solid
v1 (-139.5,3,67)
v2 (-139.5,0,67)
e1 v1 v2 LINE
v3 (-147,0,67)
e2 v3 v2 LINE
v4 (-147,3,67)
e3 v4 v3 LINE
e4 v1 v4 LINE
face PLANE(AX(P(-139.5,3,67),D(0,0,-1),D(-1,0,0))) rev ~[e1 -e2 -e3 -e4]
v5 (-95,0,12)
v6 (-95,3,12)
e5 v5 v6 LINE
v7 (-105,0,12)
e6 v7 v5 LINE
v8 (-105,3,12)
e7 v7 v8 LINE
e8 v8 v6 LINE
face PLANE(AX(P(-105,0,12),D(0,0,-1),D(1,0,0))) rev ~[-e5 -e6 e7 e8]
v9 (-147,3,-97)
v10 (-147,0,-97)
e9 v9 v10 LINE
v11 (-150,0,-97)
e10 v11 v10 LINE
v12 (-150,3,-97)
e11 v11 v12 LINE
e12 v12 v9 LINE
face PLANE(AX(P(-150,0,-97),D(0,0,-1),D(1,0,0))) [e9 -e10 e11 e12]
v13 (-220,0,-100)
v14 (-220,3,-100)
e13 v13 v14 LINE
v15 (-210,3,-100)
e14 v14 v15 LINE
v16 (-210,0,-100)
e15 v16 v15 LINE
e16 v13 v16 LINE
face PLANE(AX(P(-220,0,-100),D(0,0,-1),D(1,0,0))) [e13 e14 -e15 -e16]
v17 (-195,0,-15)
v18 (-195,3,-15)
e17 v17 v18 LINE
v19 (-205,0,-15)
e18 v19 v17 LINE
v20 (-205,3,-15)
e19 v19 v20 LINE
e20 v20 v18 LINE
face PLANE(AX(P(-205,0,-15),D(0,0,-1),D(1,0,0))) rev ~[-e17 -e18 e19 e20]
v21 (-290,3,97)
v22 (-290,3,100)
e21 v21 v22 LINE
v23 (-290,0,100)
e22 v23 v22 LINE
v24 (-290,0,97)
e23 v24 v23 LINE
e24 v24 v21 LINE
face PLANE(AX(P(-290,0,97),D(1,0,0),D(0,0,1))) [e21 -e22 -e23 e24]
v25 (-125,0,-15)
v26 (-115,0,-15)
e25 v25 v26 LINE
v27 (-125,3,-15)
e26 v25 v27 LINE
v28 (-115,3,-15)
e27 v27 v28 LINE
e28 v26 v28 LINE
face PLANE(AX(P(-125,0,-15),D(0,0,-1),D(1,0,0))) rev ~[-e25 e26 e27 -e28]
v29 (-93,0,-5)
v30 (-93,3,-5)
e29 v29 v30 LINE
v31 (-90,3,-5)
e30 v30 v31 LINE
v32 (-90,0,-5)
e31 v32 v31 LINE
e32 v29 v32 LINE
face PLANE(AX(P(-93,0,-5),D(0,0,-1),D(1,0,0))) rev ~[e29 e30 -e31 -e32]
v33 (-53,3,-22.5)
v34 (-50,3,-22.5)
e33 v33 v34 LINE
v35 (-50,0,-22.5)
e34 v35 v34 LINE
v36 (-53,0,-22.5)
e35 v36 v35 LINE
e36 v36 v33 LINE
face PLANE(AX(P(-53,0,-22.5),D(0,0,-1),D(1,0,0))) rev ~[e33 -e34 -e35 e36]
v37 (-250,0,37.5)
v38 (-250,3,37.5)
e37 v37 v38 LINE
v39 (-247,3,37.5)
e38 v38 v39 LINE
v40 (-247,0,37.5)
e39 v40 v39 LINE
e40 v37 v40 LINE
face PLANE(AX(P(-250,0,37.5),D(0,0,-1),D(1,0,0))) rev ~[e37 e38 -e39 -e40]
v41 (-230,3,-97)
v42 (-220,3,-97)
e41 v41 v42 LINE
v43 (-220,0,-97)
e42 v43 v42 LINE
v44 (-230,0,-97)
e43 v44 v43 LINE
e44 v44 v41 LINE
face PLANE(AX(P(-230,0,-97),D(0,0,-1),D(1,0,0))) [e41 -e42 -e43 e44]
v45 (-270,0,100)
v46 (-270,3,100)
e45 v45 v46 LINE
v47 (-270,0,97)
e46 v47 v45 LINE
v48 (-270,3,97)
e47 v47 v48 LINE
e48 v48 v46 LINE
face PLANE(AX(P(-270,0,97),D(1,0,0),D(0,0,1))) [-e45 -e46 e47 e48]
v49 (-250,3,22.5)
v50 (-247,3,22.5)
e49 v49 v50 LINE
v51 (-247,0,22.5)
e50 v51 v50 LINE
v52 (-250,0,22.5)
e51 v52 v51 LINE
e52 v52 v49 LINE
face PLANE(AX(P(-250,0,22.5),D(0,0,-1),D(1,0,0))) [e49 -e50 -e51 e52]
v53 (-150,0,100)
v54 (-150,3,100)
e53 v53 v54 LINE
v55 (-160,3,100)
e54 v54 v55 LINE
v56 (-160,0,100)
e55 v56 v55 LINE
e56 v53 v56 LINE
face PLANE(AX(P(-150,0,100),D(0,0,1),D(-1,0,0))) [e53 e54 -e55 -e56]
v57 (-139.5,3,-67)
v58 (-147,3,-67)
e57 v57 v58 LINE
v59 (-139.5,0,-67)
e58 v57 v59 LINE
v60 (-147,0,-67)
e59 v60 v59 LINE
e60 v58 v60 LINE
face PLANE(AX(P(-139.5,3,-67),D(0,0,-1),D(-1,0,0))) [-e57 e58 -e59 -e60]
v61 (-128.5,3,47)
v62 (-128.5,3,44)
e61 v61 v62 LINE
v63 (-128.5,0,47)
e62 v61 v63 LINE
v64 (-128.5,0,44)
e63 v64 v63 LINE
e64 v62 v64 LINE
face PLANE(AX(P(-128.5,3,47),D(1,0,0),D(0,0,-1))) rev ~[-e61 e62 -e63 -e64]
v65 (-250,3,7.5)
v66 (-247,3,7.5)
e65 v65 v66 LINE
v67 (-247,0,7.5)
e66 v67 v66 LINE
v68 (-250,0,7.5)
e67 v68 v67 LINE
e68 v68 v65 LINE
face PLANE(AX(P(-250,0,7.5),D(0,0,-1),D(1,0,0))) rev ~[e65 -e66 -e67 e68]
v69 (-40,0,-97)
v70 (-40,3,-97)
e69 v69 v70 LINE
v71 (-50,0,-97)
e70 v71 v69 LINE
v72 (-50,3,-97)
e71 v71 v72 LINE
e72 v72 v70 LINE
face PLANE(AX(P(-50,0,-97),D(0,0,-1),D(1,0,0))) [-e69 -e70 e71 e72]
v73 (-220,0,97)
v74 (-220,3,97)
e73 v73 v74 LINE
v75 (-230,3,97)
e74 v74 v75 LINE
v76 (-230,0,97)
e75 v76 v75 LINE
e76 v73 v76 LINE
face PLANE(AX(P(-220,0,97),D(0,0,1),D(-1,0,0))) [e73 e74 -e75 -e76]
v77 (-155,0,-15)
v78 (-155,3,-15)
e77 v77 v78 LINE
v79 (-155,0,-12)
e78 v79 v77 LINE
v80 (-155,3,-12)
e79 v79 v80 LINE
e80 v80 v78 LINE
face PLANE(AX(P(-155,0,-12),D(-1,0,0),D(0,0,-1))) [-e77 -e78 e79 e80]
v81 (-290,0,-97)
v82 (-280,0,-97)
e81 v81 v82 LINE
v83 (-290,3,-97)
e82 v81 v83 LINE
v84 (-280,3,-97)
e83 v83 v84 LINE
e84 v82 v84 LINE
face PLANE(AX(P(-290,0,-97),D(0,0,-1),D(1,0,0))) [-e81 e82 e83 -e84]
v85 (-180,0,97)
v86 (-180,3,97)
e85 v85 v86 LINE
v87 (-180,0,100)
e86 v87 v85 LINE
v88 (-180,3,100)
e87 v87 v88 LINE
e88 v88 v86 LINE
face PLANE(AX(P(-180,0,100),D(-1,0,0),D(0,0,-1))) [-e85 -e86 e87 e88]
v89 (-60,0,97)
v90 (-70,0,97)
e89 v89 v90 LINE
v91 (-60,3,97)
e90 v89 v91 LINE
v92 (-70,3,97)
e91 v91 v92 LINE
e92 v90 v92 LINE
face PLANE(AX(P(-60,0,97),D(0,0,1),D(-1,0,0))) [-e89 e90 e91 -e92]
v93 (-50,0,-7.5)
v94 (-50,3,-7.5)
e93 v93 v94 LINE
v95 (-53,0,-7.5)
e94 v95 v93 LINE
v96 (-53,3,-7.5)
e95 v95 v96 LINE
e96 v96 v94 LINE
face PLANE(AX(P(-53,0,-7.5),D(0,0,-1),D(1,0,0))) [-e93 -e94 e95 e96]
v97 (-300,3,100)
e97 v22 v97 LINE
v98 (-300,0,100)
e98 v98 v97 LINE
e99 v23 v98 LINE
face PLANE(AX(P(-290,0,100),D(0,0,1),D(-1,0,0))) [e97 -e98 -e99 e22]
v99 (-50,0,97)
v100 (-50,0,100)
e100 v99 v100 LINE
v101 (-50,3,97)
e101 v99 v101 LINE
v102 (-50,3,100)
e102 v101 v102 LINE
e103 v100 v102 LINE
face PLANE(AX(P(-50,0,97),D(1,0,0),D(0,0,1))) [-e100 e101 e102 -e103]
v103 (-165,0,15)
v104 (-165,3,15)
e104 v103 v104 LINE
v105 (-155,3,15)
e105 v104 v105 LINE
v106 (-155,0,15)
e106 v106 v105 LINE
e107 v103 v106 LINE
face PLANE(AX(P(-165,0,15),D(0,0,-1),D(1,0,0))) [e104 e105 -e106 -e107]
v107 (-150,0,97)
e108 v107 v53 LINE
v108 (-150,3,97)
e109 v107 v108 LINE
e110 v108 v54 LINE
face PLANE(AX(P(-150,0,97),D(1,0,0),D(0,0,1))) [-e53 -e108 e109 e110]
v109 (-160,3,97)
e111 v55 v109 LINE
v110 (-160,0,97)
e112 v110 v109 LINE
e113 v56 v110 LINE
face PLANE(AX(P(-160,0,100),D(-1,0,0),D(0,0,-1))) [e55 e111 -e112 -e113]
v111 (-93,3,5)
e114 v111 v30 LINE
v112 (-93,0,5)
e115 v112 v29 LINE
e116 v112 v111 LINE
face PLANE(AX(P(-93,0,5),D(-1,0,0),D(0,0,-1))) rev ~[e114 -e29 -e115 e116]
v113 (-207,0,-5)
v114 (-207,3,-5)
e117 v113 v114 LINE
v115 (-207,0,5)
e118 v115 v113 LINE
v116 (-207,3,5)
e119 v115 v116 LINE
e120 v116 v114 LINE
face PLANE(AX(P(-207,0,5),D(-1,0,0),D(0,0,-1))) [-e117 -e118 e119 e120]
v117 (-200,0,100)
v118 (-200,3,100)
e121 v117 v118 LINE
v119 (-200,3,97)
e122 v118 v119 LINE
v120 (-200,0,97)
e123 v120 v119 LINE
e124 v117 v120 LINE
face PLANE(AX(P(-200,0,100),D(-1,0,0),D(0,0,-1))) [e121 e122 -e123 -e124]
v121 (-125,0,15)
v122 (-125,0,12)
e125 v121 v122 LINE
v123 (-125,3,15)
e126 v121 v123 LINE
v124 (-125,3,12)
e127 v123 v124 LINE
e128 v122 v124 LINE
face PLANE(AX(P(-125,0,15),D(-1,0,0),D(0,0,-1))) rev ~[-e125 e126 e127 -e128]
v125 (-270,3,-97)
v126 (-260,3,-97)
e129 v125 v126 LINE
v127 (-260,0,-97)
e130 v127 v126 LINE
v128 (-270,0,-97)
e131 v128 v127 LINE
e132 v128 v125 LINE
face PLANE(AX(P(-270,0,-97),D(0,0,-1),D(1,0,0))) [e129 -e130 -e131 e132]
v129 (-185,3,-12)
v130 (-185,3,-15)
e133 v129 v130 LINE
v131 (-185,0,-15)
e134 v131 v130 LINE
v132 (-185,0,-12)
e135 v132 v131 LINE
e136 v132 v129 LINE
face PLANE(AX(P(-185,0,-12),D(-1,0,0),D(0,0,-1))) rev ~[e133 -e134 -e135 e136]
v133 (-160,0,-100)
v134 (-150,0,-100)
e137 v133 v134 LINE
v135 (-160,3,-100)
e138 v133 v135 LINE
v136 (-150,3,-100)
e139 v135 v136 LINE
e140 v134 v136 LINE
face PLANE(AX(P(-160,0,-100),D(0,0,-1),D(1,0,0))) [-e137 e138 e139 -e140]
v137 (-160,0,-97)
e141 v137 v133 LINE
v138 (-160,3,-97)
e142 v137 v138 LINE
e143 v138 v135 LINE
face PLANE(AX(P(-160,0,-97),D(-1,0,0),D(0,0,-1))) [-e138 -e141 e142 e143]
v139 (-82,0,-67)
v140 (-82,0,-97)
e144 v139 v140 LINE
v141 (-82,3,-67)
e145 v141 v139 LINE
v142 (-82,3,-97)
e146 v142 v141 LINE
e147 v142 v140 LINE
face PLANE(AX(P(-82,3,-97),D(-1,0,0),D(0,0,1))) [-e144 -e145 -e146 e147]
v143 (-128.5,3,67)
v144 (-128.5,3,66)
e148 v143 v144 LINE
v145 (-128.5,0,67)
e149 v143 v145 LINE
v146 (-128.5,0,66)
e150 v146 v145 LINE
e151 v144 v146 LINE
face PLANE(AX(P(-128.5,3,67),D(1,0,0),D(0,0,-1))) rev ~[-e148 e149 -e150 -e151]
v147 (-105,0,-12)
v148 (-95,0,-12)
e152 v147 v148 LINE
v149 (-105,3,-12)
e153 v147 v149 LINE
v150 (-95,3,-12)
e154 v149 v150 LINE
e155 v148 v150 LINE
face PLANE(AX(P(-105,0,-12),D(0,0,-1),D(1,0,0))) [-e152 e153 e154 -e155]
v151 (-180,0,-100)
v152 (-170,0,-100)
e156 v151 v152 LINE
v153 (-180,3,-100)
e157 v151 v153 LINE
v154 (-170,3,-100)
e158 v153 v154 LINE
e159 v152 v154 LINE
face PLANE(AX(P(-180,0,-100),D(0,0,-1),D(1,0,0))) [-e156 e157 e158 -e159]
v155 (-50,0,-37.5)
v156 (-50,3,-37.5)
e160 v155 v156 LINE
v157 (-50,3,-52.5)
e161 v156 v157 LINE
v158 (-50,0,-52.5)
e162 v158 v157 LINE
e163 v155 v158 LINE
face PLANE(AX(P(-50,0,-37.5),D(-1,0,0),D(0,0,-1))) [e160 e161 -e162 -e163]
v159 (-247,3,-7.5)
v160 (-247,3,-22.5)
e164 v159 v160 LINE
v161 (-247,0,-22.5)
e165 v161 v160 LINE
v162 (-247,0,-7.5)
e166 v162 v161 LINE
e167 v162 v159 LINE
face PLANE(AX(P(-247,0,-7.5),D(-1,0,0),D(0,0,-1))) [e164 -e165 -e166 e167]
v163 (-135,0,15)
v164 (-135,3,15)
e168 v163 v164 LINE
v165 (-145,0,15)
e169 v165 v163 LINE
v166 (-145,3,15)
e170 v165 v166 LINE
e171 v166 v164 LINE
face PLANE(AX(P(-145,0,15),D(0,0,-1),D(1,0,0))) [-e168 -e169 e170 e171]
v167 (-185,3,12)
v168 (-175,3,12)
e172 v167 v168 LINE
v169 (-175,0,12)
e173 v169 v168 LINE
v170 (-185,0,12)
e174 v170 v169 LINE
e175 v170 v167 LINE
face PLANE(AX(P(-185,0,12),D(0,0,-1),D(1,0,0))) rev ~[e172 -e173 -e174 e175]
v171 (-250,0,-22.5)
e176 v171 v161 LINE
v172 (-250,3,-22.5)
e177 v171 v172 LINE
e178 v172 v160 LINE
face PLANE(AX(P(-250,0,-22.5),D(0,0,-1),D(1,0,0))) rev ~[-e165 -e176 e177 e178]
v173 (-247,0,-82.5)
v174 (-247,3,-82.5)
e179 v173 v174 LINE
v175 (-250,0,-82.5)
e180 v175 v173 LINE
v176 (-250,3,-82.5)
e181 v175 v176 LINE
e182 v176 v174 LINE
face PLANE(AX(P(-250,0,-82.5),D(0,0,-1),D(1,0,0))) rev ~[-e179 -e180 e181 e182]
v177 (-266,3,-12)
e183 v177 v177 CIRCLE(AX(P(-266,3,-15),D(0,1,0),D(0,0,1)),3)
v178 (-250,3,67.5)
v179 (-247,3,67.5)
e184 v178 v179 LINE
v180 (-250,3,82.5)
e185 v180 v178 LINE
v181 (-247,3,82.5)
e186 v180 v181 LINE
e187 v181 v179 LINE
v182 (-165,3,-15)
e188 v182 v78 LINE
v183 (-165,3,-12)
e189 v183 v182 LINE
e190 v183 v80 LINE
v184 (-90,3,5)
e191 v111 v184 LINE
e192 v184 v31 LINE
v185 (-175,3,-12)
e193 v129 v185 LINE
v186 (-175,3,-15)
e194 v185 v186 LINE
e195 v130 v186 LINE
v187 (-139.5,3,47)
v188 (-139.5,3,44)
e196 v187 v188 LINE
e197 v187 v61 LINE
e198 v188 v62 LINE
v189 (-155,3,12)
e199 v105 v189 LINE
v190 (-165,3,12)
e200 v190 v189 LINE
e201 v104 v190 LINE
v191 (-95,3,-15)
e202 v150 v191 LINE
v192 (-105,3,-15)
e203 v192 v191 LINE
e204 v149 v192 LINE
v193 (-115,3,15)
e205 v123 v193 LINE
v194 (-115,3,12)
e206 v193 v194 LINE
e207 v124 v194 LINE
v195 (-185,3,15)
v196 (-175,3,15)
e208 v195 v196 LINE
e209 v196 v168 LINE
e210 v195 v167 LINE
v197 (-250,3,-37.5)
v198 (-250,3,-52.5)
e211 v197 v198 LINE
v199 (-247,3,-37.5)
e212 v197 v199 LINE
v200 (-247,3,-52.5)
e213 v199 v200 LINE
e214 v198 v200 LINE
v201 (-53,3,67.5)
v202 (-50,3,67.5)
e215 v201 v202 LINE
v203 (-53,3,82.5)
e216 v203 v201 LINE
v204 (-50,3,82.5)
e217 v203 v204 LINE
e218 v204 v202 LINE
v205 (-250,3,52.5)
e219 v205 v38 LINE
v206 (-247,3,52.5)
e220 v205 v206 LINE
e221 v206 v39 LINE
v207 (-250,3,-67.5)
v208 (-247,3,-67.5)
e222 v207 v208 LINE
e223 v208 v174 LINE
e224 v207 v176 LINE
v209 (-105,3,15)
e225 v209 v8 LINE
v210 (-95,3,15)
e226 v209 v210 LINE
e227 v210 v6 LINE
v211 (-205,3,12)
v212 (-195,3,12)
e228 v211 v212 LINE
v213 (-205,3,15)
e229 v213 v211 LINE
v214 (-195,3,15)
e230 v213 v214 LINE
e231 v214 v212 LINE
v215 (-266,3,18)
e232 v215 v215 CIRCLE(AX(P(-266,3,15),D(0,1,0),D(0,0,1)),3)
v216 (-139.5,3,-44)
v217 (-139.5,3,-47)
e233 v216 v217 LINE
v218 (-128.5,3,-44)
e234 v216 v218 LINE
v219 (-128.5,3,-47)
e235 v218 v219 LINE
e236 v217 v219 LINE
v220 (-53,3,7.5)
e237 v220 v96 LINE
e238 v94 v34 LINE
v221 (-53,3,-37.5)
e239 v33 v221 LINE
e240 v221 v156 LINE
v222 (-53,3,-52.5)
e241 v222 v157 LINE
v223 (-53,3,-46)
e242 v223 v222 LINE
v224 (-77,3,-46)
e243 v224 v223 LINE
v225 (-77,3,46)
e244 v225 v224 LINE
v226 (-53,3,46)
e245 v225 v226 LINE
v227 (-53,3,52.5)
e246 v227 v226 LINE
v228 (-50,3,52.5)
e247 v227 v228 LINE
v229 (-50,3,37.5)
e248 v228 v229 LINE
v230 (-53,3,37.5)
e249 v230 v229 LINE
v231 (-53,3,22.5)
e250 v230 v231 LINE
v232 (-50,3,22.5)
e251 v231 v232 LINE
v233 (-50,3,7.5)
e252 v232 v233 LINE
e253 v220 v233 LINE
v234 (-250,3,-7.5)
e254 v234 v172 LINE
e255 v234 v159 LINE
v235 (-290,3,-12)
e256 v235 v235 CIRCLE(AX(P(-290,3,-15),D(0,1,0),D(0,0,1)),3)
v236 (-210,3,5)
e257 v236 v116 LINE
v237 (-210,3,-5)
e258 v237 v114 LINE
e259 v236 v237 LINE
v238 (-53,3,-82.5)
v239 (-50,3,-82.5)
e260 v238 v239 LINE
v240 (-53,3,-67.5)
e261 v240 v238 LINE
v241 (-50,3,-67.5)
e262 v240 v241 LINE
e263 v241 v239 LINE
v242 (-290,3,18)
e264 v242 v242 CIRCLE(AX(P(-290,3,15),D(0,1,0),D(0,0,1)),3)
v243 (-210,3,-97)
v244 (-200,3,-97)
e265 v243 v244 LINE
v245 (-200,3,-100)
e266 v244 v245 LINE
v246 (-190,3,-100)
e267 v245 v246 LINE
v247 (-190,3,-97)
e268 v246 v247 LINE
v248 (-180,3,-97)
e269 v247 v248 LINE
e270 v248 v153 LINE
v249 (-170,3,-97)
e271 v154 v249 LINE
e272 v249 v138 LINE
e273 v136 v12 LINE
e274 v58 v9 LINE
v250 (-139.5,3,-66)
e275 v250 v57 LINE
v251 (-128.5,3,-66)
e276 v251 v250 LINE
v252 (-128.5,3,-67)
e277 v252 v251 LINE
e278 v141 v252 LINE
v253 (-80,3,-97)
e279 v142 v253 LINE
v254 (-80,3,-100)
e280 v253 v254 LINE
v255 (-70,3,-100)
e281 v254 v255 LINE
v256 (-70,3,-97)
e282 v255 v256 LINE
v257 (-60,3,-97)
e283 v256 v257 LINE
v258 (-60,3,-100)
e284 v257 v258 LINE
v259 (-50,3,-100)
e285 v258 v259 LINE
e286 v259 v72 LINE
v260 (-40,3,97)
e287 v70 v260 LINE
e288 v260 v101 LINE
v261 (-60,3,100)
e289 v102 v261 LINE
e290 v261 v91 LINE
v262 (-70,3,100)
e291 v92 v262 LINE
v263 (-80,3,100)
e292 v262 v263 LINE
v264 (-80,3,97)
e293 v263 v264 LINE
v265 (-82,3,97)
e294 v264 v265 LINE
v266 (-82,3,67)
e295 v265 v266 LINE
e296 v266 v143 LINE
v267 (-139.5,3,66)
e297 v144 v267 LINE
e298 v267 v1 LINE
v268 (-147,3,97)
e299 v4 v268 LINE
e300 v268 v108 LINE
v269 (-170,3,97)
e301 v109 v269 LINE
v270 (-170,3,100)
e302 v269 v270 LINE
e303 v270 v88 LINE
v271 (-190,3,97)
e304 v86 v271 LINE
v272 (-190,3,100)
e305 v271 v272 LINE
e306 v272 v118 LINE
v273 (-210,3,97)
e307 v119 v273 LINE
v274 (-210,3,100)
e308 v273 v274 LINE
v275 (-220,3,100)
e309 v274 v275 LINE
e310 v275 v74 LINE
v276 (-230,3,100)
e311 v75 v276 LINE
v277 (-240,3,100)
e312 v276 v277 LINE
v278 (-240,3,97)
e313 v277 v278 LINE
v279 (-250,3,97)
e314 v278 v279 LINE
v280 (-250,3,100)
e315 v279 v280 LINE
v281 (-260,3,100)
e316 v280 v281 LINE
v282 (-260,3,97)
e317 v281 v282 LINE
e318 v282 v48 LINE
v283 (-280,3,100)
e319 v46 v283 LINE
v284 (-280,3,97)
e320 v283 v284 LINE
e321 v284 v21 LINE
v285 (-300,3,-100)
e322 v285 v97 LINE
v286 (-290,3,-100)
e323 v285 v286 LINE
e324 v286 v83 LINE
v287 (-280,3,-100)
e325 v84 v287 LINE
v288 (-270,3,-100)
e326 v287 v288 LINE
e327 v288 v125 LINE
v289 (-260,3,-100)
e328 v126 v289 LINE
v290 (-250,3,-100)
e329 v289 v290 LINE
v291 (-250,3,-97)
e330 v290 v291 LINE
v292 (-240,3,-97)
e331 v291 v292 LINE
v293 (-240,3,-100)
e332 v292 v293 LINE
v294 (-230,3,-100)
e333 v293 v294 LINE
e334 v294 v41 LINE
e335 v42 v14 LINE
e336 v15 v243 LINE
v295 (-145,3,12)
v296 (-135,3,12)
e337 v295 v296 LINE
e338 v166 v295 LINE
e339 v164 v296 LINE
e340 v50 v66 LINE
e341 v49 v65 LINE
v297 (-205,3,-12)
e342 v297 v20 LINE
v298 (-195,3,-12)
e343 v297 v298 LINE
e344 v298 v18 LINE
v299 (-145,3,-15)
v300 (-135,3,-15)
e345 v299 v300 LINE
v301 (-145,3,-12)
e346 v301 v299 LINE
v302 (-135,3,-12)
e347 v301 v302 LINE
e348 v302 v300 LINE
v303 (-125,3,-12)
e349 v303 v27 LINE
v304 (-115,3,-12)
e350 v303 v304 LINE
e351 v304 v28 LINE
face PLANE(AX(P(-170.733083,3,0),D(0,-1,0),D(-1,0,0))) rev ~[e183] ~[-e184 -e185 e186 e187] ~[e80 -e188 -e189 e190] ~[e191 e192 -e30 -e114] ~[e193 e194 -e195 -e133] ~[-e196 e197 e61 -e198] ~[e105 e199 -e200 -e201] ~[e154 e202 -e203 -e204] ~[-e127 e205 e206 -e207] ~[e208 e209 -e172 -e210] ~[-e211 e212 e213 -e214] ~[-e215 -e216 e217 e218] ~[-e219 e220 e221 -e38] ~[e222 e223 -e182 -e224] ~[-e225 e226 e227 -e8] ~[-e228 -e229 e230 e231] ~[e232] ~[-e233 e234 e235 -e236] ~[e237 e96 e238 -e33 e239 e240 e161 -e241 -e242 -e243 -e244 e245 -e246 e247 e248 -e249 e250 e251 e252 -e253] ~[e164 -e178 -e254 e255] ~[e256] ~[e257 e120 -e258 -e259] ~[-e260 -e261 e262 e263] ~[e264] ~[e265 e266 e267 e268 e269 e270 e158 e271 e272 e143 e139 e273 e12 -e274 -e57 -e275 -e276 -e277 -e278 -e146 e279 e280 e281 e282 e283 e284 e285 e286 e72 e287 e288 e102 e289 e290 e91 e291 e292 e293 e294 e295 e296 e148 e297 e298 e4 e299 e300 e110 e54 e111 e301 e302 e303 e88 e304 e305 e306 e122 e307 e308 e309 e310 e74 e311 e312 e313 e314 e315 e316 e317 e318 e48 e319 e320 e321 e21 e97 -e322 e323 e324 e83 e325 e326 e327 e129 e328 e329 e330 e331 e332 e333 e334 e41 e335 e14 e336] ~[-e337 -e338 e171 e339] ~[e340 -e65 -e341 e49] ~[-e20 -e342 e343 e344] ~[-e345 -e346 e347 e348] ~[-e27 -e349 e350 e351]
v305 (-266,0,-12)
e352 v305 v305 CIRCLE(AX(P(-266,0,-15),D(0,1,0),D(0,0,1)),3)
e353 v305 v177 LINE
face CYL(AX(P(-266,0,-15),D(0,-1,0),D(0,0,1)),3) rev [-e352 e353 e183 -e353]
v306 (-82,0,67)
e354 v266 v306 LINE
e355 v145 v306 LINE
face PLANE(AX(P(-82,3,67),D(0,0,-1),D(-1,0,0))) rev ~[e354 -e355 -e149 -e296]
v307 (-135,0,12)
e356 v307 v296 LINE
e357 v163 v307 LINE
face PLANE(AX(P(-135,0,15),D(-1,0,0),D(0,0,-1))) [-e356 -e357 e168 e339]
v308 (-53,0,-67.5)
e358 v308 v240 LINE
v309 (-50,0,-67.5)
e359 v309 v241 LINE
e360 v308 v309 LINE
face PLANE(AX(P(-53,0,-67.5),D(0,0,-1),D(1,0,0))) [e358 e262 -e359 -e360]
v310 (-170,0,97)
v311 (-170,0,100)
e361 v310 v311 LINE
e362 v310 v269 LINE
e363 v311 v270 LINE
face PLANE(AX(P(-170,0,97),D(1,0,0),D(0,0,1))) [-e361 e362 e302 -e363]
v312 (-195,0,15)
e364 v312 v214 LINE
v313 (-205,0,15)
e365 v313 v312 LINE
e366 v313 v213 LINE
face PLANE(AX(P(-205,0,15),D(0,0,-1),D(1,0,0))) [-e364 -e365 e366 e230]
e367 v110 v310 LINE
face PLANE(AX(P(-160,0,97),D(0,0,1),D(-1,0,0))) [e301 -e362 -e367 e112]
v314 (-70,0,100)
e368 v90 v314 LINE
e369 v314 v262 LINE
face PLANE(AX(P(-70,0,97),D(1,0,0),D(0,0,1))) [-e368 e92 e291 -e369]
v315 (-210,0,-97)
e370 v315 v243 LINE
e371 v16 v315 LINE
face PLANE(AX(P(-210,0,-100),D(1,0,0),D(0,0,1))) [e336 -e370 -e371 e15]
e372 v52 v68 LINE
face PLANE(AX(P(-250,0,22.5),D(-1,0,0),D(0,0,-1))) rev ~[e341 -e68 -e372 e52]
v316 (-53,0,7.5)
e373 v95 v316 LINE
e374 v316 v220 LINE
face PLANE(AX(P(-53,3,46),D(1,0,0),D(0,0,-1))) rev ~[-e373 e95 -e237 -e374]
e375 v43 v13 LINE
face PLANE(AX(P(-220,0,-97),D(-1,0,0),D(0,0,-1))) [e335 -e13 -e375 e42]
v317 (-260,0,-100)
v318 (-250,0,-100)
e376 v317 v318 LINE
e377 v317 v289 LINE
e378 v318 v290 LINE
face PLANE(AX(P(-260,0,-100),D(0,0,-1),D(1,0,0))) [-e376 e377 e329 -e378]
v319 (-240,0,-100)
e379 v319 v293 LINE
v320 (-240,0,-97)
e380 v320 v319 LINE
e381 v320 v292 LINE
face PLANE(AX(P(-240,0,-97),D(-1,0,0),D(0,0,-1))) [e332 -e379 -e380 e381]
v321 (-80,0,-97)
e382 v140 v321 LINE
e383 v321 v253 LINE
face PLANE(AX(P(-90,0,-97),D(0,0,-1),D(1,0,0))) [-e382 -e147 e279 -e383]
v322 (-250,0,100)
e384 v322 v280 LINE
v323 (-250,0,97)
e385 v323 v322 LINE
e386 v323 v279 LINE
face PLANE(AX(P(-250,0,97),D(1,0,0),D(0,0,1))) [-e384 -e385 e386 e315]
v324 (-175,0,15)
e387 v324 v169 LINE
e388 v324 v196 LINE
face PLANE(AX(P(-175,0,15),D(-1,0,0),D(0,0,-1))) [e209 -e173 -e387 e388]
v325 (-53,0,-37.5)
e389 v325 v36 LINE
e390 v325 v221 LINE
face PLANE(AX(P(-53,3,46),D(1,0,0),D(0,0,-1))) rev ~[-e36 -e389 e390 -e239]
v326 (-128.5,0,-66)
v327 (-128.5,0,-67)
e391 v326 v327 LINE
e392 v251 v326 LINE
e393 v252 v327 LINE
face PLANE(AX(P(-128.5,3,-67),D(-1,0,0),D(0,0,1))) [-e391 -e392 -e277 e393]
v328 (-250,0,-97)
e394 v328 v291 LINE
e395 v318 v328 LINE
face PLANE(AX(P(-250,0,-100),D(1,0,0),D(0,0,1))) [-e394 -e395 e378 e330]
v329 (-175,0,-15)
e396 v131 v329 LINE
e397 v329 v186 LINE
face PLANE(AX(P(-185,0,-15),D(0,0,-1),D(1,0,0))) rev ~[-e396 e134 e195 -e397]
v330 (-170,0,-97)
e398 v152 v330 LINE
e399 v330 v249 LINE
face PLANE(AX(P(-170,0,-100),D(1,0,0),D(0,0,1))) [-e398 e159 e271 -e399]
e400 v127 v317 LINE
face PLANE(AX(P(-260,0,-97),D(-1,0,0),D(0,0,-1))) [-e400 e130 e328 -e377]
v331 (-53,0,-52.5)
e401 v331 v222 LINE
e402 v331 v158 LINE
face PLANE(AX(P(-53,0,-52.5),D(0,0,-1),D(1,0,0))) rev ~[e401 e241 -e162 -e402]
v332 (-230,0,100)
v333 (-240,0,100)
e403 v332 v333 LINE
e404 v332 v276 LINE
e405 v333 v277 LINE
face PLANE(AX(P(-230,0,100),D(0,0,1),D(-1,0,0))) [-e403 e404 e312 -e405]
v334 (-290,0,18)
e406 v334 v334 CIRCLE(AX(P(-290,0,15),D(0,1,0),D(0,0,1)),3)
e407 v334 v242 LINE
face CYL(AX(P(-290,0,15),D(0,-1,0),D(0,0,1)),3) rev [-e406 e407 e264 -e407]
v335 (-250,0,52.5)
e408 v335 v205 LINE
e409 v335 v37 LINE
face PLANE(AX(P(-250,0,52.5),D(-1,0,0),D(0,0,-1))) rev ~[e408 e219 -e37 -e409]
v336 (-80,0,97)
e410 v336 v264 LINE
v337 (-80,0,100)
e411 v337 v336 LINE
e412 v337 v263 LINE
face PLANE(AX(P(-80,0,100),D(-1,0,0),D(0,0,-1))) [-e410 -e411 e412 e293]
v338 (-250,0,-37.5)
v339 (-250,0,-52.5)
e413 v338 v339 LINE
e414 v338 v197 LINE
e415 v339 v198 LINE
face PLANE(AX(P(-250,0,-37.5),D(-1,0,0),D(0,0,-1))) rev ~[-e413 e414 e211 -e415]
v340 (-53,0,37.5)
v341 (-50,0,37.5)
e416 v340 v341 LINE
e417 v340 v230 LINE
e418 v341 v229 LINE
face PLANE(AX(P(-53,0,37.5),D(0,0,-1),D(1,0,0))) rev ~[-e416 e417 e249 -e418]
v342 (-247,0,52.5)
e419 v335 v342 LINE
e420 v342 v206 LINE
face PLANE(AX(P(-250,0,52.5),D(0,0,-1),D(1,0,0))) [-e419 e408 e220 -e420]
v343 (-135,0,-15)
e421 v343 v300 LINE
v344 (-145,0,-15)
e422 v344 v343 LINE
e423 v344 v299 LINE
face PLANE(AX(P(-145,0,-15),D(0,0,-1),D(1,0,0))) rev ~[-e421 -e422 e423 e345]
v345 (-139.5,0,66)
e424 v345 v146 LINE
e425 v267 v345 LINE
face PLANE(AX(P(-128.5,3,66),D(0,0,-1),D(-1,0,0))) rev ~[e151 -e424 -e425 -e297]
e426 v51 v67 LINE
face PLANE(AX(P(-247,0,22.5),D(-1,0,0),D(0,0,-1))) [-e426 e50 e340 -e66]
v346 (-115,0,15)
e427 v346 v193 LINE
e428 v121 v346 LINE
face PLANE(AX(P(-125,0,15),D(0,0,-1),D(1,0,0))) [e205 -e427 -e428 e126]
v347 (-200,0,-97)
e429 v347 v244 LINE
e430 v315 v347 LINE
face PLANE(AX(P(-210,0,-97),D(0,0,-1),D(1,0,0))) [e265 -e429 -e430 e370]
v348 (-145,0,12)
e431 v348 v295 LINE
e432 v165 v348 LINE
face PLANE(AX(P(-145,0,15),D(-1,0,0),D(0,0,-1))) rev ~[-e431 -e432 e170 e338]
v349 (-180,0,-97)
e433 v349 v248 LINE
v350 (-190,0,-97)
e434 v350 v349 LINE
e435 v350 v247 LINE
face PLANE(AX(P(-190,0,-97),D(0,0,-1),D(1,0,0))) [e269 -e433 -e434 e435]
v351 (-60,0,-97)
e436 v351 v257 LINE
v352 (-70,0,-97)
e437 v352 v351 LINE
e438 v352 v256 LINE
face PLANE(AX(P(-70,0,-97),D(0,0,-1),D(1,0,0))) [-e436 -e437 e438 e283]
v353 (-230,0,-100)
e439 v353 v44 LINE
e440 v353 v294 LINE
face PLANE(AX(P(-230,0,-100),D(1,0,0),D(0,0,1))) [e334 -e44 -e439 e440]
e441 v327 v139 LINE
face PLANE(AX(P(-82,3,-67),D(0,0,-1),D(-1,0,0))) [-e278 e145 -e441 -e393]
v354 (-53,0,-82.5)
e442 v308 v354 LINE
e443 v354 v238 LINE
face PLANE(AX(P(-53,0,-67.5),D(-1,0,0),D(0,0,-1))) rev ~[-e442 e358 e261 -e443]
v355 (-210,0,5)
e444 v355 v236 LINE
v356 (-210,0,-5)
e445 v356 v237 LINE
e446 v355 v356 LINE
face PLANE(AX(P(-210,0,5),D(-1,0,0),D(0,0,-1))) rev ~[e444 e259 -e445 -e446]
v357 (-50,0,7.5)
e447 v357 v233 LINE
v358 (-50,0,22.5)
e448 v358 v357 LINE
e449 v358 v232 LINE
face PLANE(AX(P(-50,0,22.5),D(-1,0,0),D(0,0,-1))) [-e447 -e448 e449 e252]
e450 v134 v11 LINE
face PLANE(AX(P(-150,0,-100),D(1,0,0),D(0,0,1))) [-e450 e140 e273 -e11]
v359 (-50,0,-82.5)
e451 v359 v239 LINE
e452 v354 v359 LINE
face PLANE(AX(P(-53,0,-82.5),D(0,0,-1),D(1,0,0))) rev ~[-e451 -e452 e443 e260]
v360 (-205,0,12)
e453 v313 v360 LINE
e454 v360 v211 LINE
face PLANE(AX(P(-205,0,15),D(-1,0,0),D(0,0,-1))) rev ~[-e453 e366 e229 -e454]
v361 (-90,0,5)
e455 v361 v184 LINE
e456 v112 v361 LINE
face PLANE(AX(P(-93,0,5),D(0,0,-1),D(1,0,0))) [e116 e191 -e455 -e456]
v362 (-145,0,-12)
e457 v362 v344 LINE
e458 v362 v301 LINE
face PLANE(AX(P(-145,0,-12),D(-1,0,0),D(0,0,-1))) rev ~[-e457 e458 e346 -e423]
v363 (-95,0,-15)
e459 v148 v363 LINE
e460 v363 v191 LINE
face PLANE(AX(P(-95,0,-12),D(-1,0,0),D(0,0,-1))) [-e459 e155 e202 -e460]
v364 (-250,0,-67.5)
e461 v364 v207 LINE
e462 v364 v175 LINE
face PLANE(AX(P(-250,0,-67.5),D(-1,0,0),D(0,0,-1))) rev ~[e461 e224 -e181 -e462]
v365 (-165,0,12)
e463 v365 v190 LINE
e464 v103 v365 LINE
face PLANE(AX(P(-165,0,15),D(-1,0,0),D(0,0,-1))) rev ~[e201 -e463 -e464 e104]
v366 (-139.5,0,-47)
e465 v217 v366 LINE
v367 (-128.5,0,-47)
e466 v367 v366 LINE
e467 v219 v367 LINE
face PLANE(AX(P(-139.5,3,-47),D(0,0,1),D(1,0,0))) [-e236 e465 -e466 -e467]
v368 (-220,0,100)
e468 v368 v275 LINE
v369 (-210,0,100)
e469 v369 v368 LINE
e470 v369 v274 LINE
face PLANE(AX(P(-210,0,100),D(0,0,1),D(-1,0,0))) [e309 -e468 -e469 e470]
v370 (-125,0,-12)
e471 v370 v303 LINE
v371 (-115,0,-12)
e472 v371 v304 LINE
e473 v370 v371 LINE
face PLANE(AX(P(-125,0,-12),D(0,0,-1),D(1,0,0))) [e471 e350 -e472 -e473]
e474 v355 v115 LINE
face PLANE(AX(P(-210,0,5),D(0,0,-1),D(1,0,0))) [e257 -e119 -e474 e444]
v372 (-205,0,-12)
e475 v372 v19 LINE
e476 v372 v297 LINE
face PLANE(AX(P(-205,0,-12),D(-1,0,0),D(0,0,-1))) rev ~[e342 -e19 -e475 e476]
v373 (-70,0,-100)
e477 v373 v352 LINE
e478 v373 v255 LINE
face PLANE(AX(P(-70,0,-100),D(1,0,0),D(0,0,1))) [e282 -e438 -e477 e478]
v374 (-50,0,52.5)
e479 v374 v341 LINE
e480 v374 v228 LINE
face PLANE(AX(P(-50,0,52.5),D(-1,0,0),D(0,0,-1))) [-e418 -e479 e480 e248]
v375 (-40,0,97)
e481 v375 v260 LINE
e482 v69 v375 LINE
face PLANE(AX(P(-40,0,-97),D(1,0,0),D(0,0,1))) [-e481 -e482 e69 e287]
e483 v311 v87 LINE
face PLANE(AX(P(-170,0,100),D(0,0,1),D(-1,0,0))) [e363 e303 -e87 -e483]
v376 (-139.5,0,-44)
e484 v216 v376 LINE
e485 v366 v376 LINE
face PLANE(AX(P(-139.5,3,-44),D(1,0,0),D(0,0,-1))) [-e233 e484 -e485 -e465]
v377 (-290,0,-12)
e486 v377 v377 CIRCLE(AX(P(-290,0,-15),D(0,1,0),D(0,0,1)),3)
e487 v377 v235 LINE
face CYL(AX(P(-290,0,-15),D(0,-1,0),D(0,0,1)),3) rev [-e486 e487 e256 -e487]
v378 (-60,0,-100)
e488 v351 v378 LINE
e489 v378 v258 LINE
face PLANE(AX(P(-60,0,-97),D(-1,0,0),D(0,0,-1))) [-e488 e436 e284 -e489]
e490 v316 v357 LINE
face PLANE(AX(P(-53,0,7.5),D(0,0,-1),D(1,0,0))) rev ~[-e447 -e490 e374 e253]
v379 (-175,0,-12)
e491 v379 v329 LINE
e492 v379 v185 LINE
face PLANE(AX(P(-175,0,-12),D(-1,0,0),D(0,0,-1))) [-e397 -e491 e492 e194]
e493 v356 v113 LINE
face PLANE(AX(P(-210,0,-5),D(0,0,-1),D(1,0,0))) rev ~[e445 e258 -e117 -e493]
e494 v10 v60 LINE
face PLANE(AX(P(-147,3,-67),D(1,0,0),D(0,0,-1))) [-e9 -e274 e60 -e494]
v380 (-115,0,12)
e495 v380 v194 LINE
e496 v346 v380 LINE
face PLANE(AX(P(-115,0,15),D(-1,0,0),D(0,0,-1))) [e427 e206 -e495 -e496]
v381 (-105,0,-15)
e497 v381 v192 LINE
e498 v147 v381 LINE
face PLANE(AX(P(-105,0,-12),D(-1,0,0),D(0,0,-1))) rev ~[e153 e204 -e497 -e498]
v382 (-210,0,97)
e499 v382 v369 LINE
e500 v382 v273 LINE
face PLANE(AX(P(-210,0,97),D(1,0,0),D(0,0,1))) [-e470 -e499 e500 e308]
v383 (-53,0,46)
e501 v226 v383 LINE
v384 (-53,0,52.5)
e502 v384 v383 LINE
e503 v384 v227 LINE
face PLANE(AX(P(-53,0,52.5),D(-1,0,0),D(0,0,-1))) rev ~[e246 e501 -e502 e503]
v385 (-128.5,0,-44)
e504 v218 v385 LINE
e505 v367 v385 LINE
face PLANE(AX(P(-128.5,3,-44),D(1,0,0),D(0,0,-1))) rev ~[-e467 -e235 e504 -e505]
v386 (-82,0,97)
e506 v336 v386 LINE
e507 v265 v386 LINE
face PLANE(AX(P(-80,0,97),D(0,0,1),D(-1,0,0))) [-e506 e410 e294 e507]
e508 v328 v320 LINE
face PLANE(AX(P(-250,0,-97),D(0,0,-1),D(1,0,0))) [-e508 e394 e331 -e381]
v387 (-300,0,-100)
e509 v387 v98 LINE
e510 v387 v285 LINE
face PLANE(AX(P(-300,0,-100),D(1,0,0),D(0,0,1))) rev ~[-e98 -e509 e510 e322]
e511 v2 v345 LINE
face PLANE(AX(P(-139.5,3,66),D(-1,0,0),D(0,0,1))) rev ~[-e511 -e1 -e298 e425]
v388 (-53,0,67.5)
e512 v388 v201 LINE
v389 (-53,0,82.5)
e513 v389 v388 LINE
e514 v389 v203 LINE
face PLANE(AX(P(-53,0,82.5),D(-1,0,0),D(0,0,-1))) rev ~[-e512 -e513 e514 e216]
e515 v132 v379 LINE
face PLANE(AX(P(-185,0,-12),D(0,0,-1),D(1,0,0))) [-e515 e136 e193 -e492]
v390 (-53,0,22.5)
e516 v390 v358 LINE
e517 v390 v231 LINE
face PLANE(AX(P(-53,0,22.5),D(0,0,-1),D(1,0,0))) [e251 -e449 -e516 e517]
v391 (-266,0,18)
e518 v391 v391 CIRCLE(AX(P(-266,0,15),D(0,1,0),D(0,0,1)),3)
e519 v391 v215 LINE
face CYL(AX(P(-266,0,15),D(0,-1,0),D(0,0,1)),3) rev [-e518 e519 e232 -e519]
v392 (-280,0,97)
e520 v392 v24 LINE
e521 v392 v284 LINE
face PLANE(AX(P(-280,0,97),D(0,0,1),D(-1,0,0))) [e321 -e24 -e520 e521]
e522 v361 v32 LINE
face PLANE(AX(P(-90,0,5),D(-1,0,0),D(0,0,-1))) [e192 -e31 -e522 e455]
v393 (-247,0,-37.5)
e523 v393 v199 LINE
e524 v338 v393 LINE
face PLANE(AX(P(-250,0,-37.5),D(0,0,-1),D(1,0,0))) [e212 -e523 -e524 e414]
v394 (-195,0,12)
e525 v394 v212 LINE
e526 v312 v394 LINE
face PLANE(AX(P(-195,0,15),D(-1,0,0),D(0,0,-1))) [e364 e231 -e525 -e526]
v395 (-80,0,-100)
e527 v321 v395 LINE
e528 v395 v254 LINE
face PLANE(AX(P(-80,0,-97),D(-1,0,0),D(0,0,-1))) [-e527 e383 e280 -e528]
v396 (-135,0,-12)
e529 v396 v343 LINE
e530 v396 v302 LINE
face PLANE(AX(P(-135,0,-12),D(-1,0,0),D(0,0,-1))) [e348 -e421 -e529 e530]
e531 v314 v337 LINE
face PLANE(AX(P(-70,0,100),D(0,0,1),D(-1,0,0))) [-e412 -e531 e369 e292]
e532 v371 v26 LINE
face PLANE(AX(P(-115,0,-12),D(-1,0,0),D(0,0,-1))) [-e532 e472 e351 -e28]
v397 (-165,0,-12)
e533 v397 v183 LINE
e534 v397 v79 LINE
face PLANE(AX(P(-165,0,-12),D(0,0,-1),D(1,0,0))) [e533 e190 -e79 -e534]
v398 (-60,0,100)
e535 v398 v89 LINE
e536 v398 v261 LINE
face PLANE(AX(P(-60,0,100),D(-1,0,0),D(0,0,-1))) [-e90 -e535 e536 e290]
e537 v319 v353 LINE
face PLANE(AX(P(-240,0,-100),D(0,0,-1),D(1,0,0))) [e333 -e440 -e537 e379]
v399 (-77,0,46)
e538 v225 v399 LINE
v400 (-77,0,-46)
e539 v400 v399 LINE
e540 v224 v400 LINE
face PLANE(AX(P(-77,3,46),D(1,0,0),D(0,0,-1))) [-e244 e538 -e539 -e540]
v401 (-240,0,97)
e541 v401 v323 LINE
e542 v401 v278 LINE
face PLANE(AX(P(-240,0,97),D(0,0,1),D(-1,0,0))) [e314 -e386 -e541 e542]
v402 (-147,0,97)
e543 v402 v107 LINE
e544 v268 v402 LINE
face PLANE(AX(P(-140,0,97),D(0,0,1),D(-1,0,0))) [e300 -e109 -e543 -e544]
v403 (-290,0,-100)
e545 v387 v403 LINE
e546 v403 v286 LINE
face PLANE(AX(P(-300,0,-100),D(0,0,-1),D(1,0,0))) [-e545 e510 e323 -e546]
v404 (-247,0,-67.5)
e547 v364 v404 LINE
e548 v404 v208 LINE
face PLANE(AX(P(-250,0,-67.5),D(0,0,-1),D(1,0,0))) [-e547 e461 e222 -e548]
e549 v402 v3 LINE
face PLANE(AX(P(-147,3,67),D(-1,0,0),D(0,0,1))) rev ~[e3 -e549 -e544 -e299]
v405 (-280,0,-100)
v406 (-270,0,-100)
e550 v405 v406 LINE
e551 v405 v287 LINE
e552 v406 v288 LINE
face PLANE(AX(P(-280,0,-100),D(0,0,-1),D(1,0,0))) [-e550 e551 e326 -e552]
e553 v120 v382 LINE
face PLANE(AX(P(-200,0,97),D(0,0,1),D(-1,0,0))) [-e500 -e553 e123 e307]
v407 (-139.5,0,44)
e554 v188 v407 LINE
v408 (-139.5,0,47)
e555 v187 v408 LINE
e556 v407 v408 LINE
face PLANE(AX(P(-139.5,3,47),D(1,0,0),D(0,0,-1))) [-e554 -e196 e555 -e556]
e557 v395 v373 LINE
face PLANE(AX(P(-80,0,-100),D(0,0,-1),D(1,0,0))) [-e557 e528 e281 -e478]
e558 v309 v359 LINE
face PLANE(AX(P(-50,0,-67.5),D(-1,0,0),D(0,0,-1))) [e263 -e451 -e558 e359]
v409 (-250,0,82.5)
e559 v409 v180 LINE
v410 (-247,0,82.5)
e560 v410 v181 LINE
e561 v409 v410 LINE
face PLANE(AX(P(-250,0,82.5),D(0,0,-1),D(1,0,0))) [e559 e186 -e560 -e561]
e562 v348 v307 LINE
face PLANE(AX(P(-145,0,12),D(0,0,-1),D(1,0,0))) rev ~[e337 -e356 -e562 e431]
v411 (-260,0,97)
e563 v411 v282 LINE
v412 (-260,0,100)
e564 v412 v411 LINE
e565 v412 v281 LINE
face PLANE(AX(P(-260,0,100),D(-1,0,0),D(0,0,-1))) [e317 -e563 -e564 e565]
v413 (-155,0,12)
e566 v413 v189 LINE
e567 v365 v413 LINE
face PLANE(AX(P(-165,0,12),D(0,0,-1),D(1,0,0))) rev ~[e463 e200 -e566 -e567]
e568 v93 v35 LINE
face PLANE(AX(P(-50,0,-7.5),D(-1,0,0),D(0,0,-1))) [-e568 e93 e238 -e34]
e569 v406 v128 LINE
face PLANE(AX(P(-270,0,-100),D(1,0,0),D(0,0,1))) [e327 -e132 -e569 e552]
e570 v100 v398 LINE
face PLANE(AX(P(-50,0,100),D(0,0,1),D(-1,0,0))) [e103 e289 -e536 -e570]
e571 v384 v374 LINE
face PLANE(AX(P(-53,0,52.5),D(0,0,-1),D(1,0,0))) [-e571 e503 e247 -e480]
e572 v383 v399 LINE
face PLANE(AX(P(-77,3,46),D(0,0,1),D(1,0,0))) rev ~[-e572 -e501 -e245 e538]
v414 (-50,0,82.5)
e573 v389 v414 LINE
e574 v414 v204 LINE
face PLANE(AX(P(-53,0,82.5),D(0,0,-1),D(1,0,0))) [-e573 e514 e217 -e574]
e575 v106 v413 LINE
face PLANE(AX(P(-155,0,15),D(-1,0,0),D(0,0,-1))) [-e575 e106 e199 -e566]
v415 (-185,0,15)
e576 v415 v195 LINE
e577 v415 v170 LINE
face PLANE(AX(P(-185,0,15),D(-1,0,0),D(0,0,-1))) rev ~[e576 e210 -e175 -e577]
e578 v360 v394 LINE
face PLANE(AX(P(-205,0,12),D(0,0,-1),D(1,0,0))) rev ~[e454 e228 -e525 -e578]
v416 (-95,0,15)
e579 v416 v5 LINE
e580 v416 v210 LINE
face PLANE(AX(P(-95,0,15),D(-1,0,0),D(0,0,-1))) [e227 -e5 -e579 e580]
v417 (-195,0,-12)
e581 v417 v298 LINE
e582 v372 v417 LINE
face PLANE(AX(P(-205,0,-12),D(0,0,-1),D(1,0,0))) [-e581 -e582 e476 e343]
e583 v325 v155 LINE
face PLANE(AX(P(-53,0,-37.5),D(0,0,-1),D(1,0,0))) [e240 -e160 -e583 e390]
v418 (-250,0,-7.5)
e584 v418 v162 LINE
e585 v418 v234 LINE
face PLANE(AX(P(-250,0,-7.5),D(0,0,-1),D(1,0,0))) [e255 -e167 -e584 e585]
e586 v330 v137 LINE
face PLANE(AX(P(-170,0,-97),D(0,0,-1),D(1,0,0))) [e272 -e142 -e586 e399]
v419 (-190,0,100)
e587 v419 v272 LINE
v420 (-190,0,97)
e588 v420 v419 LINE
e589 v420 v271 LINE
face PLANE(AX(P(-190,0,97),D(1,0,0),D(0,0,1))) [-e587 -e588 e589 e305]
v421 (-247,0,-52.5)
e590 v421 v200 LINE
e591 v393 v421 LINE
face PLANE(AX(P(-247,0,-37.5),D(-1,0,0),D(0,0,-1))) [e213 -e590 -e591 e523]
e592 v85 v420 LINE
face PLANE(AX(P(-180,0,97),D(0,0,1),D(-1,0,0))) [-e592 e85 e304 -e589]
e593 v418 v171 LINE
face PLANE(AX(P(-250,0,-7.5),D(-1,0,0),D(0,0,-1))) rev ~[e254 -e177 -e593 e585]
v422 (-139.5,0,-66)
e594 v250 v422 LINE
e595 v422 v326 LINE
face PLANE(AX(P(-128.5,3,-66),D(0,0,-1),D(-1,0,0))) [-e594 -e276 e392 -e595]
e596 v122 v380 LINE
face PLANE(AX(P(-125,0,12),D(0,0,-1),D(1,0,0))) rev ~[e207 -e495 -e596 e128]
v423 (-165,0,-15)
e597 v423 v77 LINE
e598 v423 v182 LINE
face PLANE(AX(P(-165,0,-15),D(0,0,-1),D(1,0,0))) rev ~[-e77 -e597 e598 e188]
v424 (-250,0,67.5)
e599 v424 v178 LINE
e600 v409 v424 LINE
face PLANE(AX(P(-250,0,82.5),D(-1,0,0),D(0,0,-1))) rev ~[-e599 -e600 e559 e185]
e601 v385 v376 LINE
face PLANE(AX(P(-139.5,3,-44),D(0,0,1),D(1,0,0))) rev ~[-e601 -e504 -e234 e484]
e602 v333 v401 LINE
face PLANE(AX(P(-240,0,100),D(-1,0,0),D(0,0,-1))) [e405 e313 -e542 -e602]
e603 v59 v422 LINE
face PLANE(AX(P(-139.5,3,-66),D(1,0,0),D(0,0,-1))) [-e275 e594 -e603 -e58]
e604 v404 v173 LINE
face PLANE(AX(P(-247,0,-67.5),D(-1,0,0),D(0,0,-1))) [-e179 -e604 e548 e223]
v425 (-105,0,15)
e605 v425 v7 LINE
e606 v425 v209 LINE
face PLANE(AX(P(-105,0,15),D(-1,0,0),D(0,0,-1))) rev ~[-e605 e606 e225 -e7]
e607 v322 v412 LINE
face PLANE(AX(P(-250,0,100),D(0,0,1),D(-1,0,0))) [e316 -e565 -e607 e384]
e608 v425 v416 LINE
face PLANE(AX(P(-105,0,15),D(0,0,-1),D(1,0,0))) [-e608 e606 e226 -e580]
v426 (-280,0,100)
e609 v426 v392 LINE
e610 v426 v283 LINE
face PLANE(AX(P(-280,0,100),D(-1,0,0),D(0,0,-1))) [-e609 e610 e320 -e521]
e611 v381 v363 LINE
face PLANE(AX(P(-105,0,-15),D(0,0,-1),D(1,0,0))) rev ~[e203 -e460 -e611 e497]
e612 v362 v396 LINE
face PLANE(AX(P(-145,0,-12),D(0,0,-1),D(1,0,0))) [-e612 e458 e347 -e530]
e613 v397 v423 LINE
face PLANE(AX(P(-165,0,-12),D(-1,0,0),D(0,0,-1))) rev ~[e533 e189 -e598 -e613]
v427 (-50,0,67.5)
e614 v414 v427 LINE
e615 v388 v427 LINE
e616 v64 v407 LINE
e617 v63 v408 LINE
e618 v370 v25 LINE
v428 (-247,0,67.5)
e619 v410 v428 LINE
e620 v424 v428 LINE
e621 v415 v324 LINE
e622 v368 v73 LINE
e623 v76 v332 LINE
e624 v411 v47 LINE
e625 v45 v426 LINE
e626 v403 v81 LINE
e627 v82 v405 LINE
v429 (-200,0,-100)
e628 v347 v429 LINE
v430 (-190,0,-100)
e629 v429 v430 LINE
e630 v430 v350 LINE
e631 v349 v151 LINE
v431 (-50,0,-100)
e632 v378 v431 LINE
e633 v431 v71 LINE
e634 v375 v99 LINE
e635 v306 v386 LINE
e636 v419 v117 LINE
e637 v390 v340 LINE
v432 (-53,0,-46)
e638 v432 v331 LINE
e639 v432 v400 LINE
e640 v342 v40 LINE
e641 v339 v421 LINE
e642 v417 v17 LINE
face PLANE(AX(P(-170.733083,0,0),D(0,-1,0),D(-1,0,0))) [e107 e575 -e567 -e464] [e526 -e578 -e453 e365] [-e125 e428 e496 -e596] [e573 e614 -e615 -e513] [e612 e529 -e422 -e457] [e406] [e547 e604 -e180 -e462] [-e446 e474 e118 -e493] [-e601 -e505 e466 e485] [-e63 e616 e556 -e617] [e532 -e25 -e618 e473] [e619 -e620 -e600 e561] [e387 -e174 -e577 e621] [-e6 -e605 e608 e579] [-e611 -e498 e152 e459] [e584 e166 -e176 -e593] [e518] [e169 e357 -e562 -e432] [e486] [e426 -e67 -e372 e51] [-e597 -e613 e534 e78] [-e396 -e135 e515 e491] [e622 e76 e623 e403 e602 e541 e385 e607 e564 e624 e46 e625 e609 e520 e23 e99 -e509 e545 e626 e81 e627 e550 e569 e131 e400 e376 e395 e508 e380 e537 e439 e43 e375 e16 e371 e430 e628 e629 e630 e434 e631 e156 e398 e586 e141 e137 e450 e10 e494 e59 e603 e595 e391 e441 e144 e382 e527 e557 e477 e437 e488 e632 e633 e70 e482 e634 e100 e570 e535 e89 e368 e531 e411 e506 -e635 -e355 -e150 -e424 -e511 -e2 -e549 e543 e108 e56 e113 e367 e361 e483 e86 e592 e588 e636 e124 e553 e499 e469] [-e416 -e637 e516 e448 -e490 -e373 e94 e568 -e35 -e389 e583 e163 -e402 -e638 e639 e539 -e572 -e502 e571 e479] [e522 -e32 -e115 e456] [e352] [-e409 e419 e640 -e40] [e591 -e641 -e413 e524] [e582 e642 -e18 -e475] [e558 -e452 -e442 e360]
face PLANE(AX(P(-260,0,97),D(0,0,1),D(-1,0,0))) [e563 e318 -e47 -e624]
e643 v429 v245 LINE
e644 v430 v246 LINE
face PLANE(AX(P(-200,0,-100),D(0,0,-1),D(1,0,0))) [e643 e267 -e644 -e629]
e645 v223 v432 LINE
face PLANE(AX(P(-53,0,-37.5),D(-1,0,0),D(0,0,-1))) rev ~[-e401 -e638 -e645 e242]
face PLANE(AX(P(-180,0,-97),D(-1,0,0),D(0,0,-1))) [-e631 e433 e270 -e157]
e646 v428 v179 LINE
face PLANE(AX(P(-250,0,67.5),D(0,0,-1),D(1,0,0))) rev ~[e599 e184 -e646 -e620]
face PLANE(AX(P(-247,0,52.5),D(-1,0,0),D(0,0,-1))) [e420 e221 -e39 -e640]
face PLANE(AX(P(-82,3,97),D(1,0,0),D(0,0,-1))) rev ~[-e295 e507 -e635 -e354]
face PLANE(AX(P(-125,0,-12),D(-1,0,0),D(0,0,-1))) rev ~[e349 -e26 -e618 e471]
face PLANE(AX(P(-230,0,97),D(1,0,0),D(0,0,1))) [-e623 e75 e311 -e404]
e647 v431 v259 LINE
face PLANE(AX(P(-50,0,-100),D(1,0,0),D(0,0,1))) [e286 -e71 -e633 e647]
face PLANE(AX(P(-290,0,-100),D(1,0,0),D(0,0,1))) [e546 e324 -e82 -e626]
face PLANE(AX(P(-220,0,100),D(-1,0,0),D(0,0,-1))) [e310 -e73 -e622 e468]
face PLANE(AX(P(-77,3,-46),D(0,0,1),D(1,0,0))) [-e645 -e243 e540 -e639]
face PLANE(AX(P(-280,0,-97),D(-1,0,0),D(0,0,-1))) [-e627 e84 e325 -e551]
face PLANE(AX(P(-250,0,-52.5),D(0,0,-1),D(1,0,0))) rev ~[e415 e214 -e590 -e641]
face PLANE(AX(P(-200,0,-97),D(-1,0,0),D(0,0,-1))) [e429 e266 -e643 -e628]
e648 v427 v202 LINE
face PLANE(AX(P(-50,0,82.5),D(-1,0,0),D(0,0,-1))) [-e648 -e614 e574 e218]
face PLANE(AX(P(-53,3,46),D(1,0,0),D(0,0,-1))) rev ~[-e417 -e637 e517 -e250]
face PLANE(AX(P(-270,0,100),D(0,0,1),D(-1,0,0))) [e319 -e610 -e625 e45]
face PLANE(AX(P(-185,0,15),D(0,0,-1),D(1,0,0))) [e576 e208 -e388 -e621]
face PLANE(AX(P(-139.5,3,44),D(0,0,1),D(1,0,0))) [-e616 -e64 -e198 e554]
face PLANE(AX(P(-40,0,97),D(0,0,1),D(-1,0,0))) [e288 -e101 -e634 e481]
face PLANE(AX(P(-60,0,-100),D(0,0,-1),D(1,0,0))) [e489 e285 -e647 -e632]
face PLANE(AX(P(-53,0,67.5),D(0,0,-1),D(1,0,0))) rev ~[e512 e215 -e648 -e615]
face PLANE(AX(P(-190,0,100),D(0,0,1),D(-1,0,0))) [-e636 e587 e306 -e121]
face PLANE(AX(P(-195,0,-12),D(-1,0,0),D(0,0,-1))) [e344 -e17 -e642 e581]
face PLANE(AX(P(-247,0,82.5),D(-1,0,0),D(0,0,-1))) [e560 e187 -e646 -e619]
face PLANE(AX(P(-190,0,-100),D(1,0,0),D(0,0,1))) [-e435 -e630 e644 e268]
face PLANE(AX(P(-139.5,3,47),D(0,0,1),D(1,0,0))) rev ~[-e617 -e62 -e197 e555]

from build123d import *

# Parameters (mm, degrees)
SKETCH3_R           = 3
SKETCH3_W           = 3
SKETCH3_H           = 15
SKETCH3_W_2         = 10
SKETCH3_H_2         = 3
SKETCH3_H_3         = 10
BOSS_EXTRUDE1_DEPTH = 3
SKETCH4_W           = 24
SKETCH4_H           = 92
CUT_EXTRUDE1_DEPTH  = 10
SKETCH5_W           = 11
SKETCH5_H           = 3
CUT_EXTRUDE2_DEPTH  = 10


with BuildPart() as part:
    # Sketch3 → Boss-Extrude1 (new body)
    with BuildSketch(Plane(origin=(0, 0, 0), x_dir=(1, 0, 0), z_dir=(0, 1, 0))):
        Polygon((-300, -97), (-300, 97), (-300, 100), (-290, 100), (-290, 97), (-280, 97), (-280, 100), (-270, 100), (-270, 97), (-260, 97), (-260, 100), (-250, 100), (-250, 97), (-240, 97), (-240, 100), (-230, 100), (-230, 97), (-220, 97), (-220, 100), (-210, 100), (-210, 97), (-200, 97), (-200, 100), (-190, 100), (-190, 97), (-180, 97), (-180, 100), (-170, 100), (-170, 97), (-160, 97), (-160, 100), (-150, 100), (-150, 97), (-140, 97), (-140, 100), (-130, 100), (-130, 97), (-120, 97), (-120, 100), (-110, 100), (-110, 97), (-100, 97), (-100, 100), (-90, 100), (-90, 97), (-80, 97), (-80, 100), (-70, 100), (-70, 97), (-60, 97), (-60, 100), (-50, 100), (-50, 97), (-40, 97), (-40, -97), (-50, -97), (-50, -100), (-60, -100), (-60, -97), (-70, -97), (-70, -100), (-80, -100), (-80, -97), (-90, -97), (-90, -100), (-100, -100), (-100, -97), (-110, -97), (-110, -100), (-120, -100), (-120, -97), (-130, -97), (-130, -100), (-140, -100), (-140, -97), (-150, -97), (-150, -100), (-160, -100), (-160, -97), (-170, -97), (-170, -100), (-180, -100), (-180, -97), (-190, -97), (-190, -100), (-200, -100), (-200, -97), (-210, -97), (-210, -100), (-220, -100), (-220, -97), (-230, -97), (-230, -100), (-240, -100), (-240, -97), (-250, -97), (-250, -100), (-260, -100), (-260, -97), (-270, -97), (-270, -100), (-280, -100), (-280, -97), (-290, -97), (-290, -100), (-300, -100), align=None)
        with Locations(Location((-290, 15, 0), (0, 0, 270))):
            Circle(SKETCH3_R, mode=Mode.SUBTRACT)
        with Locations(Location((-266, 15, 0), (0, 0, 270))):
            Circle(SKETCH3_R, mode=Mode.SUBTRACT)
        with Locations(Location((-266, -15, 0), (0, 0, 270))):
            Circle(SKETCH3_R, mode=Mode.SUBTRACT)
        with Locations(Location((-290, -15, 0), (0, 0, 270))):
            Circle(SKETCH3_R, mode=Mode.SUBTRACT)
        with Locations((-51.5, 45)):
            Rectangle(SKETCH3_W, SKETCH3_H, mode=Mode.SUBTRACT)
        with Locations((-51.5, 15)):
            Rectangle(SKETCH3_W, SKETCH3_H, mode=Mode.SUBTRACT)
        with Locations((-248.5, 45)):
            Rectangle(SKETCH3_W, SKETCH3_H, mode=Mode.SUBTRACT)
        with Locations((-248.5, 15)):
            Rectangle(SKETCH3_W, SKETCH3_H, mode=Mode.SUBTRACT)
        with Locations((-51.5, 75)):
            Rectangle(SKETCH3_W, SKETCH3_H, mode=Mode.SUBTRACT)
        with Locations((-51.5, -75)):
            Rectangle(SKETCH3_W, SKETCH3_H, mode=Mode.SUBTRACT)
        with Locations((-120, 13.5)):
            Rectangle(SKETCH3_W_2, SKETCH3_H_2, mode=Mode.SUBTRACT)
        with Locations((-91.5, 0)):
            Rectangle(SKETCH3_W, SKETCH3_H_3, mode=Mode.SUBTRACT)
        with Locations((-100, 13.5)):
            Rectangle(SKETCH3_W_2, SKETCH3_H_2, mode=Mode.SUBTRACT)
        with Locations((-140, 13.5)):
            Rectangle(SKETCH3_W_2, SKETCH3_H_2, mode=Mode.SUBTRACT)
        with Locations((-160, 13.5)):
            Rectangle(SKETCH3_W_2, SKETCH3_H_2, mode=Mode.SUBTRACT)
        with Locations((-180, 13.5)):
            Rectangle(SKETCH3_W_2, SKETCH3_H_2, mode=Mode.SUBTRACT)
        with Locations((-200, 13.5)):
            Rectangle(SKETCH3_W_2, SKETCH3_H_2, mode=Mode.SUBTRACT)
        with Locations((-208.5, 0)):
            Rectangle(SKETCH3_W, SKETCH3_H_3, mode=Mode.SUBTRACT)
        with Locations((-120, -13.5)):
            Rectangle(SKETCH3_W_2, SKETCH3_H_2, mode=Mode.SUBTRACT)
        with Locations((-140, -13.5)):
            Rectangle(SKETCH3_W_2, SKETCH3_H_2, mode=Mode.SUBTRACT)
        with Locations((-160, -13.5)):
            Rectangle(SKETCH3_W_2, SKETCH3_H_2, mode=Mode.SUBTRACT)
        with Locations((-180, -13.5)):
            Rectangle(SKETCH3_W_2, SKETCH3_H_2, mode=Mode.SUBTRACT)
        with Locations((-200, -13.5)):
            Rectangle(SKETCH3_W_2, SKETCH3_H_2, mode=Mode.SUBTRACT)
        with Locations((-100, -13.5)):
            Rectangle(SKETCH3_W_2, SKETCH3_H_2, mode=Mode.SUBTRACT)
        with Locations((-248.5, 75)):
            Rectangle(SKETCH3_W, SKETCH3_H, mode=Mode.SUBTRACT)
        with Locations((-248.5, -75)):
            Rectangle(SKETCH3_W, SKETCH3_H, mode=Mode.SUBTRACT)
        with Locations((-248.5, -45)):
            Rectangle(SKETCH3_W, SKETCH3_H, mode=Mode.SUBTRACT)
        with Locations((-248.5, -15)):
            Rectangle(SKETCH3_W, SKETCH3_H, mode=Mode.SUBTRACT)
        with Locations((-51.5, -45)):
            Rectangle(SKETCH3_W, SKETCH3_H, mode=Mode.SUBTRACT)
        with Locations((-51.5, -15)):
            Rectangle(SKETCH3_W, SKETCH3_H, mode=Mode.SUBTRACT)
    extrude(amount=BOSS_EXTRUDE1_DEPTH)

    # Sketch4 → Cut-Extrude1 (cut)
    with BuildSketch(Plane(origin=(0, 3, 0), x_dir=(1, 0, 0), z_dir=(0, 1, 0))):
        with Locations((-65, 0)):
            Rectangle(SKETCH4_W, SKETCH4_H)
    extrude(amount=-CUT_EXTRUDE1_DEPTH, mode=Mode.SUBTRACT)

    # Sketch5 → Cut-Extrude2 (cut)
    with BuildSketch(Plane(origin=(0, 3, 0), x_dir=(1, 0, 0), z_dir=(0, 1, 0))):
        Polygon((-82, 67), (-128.5, 67), (-128.5, 66), (-139.5, 66), (-139.5, 67), (-147, 67), (-147, 97), (-82, 97), align=None)
        Polygon((-147, -67), (-147, -97), (-82, -97), (-82, -67), (-128.5, -67), (-128.5, -66), (-139.5, -66), (-139.5, -67), align=None)
        with Locations((-134, -45.5)):
            Rectangle(SKETCH5_W, SKETCH5_H)
        with Locations((-134, 45.5)):
            Rectangle(SKETCH5_W, SKETCH5_H)
    extrude(amount=-CUT_EXTRUDE2_DEPTH, mode=Mode.SUBTRACT)


with BuildPart() as cut_extrude2_kept_piece:
    # of the separate pieces the step leaves, the one the design keeps (cut_extrude2_pieces_kept)
    add(part.part.solids().sort_by_distance((-300, 0, 100))[0])


solid = cut_extrude2_kept_piece.part
